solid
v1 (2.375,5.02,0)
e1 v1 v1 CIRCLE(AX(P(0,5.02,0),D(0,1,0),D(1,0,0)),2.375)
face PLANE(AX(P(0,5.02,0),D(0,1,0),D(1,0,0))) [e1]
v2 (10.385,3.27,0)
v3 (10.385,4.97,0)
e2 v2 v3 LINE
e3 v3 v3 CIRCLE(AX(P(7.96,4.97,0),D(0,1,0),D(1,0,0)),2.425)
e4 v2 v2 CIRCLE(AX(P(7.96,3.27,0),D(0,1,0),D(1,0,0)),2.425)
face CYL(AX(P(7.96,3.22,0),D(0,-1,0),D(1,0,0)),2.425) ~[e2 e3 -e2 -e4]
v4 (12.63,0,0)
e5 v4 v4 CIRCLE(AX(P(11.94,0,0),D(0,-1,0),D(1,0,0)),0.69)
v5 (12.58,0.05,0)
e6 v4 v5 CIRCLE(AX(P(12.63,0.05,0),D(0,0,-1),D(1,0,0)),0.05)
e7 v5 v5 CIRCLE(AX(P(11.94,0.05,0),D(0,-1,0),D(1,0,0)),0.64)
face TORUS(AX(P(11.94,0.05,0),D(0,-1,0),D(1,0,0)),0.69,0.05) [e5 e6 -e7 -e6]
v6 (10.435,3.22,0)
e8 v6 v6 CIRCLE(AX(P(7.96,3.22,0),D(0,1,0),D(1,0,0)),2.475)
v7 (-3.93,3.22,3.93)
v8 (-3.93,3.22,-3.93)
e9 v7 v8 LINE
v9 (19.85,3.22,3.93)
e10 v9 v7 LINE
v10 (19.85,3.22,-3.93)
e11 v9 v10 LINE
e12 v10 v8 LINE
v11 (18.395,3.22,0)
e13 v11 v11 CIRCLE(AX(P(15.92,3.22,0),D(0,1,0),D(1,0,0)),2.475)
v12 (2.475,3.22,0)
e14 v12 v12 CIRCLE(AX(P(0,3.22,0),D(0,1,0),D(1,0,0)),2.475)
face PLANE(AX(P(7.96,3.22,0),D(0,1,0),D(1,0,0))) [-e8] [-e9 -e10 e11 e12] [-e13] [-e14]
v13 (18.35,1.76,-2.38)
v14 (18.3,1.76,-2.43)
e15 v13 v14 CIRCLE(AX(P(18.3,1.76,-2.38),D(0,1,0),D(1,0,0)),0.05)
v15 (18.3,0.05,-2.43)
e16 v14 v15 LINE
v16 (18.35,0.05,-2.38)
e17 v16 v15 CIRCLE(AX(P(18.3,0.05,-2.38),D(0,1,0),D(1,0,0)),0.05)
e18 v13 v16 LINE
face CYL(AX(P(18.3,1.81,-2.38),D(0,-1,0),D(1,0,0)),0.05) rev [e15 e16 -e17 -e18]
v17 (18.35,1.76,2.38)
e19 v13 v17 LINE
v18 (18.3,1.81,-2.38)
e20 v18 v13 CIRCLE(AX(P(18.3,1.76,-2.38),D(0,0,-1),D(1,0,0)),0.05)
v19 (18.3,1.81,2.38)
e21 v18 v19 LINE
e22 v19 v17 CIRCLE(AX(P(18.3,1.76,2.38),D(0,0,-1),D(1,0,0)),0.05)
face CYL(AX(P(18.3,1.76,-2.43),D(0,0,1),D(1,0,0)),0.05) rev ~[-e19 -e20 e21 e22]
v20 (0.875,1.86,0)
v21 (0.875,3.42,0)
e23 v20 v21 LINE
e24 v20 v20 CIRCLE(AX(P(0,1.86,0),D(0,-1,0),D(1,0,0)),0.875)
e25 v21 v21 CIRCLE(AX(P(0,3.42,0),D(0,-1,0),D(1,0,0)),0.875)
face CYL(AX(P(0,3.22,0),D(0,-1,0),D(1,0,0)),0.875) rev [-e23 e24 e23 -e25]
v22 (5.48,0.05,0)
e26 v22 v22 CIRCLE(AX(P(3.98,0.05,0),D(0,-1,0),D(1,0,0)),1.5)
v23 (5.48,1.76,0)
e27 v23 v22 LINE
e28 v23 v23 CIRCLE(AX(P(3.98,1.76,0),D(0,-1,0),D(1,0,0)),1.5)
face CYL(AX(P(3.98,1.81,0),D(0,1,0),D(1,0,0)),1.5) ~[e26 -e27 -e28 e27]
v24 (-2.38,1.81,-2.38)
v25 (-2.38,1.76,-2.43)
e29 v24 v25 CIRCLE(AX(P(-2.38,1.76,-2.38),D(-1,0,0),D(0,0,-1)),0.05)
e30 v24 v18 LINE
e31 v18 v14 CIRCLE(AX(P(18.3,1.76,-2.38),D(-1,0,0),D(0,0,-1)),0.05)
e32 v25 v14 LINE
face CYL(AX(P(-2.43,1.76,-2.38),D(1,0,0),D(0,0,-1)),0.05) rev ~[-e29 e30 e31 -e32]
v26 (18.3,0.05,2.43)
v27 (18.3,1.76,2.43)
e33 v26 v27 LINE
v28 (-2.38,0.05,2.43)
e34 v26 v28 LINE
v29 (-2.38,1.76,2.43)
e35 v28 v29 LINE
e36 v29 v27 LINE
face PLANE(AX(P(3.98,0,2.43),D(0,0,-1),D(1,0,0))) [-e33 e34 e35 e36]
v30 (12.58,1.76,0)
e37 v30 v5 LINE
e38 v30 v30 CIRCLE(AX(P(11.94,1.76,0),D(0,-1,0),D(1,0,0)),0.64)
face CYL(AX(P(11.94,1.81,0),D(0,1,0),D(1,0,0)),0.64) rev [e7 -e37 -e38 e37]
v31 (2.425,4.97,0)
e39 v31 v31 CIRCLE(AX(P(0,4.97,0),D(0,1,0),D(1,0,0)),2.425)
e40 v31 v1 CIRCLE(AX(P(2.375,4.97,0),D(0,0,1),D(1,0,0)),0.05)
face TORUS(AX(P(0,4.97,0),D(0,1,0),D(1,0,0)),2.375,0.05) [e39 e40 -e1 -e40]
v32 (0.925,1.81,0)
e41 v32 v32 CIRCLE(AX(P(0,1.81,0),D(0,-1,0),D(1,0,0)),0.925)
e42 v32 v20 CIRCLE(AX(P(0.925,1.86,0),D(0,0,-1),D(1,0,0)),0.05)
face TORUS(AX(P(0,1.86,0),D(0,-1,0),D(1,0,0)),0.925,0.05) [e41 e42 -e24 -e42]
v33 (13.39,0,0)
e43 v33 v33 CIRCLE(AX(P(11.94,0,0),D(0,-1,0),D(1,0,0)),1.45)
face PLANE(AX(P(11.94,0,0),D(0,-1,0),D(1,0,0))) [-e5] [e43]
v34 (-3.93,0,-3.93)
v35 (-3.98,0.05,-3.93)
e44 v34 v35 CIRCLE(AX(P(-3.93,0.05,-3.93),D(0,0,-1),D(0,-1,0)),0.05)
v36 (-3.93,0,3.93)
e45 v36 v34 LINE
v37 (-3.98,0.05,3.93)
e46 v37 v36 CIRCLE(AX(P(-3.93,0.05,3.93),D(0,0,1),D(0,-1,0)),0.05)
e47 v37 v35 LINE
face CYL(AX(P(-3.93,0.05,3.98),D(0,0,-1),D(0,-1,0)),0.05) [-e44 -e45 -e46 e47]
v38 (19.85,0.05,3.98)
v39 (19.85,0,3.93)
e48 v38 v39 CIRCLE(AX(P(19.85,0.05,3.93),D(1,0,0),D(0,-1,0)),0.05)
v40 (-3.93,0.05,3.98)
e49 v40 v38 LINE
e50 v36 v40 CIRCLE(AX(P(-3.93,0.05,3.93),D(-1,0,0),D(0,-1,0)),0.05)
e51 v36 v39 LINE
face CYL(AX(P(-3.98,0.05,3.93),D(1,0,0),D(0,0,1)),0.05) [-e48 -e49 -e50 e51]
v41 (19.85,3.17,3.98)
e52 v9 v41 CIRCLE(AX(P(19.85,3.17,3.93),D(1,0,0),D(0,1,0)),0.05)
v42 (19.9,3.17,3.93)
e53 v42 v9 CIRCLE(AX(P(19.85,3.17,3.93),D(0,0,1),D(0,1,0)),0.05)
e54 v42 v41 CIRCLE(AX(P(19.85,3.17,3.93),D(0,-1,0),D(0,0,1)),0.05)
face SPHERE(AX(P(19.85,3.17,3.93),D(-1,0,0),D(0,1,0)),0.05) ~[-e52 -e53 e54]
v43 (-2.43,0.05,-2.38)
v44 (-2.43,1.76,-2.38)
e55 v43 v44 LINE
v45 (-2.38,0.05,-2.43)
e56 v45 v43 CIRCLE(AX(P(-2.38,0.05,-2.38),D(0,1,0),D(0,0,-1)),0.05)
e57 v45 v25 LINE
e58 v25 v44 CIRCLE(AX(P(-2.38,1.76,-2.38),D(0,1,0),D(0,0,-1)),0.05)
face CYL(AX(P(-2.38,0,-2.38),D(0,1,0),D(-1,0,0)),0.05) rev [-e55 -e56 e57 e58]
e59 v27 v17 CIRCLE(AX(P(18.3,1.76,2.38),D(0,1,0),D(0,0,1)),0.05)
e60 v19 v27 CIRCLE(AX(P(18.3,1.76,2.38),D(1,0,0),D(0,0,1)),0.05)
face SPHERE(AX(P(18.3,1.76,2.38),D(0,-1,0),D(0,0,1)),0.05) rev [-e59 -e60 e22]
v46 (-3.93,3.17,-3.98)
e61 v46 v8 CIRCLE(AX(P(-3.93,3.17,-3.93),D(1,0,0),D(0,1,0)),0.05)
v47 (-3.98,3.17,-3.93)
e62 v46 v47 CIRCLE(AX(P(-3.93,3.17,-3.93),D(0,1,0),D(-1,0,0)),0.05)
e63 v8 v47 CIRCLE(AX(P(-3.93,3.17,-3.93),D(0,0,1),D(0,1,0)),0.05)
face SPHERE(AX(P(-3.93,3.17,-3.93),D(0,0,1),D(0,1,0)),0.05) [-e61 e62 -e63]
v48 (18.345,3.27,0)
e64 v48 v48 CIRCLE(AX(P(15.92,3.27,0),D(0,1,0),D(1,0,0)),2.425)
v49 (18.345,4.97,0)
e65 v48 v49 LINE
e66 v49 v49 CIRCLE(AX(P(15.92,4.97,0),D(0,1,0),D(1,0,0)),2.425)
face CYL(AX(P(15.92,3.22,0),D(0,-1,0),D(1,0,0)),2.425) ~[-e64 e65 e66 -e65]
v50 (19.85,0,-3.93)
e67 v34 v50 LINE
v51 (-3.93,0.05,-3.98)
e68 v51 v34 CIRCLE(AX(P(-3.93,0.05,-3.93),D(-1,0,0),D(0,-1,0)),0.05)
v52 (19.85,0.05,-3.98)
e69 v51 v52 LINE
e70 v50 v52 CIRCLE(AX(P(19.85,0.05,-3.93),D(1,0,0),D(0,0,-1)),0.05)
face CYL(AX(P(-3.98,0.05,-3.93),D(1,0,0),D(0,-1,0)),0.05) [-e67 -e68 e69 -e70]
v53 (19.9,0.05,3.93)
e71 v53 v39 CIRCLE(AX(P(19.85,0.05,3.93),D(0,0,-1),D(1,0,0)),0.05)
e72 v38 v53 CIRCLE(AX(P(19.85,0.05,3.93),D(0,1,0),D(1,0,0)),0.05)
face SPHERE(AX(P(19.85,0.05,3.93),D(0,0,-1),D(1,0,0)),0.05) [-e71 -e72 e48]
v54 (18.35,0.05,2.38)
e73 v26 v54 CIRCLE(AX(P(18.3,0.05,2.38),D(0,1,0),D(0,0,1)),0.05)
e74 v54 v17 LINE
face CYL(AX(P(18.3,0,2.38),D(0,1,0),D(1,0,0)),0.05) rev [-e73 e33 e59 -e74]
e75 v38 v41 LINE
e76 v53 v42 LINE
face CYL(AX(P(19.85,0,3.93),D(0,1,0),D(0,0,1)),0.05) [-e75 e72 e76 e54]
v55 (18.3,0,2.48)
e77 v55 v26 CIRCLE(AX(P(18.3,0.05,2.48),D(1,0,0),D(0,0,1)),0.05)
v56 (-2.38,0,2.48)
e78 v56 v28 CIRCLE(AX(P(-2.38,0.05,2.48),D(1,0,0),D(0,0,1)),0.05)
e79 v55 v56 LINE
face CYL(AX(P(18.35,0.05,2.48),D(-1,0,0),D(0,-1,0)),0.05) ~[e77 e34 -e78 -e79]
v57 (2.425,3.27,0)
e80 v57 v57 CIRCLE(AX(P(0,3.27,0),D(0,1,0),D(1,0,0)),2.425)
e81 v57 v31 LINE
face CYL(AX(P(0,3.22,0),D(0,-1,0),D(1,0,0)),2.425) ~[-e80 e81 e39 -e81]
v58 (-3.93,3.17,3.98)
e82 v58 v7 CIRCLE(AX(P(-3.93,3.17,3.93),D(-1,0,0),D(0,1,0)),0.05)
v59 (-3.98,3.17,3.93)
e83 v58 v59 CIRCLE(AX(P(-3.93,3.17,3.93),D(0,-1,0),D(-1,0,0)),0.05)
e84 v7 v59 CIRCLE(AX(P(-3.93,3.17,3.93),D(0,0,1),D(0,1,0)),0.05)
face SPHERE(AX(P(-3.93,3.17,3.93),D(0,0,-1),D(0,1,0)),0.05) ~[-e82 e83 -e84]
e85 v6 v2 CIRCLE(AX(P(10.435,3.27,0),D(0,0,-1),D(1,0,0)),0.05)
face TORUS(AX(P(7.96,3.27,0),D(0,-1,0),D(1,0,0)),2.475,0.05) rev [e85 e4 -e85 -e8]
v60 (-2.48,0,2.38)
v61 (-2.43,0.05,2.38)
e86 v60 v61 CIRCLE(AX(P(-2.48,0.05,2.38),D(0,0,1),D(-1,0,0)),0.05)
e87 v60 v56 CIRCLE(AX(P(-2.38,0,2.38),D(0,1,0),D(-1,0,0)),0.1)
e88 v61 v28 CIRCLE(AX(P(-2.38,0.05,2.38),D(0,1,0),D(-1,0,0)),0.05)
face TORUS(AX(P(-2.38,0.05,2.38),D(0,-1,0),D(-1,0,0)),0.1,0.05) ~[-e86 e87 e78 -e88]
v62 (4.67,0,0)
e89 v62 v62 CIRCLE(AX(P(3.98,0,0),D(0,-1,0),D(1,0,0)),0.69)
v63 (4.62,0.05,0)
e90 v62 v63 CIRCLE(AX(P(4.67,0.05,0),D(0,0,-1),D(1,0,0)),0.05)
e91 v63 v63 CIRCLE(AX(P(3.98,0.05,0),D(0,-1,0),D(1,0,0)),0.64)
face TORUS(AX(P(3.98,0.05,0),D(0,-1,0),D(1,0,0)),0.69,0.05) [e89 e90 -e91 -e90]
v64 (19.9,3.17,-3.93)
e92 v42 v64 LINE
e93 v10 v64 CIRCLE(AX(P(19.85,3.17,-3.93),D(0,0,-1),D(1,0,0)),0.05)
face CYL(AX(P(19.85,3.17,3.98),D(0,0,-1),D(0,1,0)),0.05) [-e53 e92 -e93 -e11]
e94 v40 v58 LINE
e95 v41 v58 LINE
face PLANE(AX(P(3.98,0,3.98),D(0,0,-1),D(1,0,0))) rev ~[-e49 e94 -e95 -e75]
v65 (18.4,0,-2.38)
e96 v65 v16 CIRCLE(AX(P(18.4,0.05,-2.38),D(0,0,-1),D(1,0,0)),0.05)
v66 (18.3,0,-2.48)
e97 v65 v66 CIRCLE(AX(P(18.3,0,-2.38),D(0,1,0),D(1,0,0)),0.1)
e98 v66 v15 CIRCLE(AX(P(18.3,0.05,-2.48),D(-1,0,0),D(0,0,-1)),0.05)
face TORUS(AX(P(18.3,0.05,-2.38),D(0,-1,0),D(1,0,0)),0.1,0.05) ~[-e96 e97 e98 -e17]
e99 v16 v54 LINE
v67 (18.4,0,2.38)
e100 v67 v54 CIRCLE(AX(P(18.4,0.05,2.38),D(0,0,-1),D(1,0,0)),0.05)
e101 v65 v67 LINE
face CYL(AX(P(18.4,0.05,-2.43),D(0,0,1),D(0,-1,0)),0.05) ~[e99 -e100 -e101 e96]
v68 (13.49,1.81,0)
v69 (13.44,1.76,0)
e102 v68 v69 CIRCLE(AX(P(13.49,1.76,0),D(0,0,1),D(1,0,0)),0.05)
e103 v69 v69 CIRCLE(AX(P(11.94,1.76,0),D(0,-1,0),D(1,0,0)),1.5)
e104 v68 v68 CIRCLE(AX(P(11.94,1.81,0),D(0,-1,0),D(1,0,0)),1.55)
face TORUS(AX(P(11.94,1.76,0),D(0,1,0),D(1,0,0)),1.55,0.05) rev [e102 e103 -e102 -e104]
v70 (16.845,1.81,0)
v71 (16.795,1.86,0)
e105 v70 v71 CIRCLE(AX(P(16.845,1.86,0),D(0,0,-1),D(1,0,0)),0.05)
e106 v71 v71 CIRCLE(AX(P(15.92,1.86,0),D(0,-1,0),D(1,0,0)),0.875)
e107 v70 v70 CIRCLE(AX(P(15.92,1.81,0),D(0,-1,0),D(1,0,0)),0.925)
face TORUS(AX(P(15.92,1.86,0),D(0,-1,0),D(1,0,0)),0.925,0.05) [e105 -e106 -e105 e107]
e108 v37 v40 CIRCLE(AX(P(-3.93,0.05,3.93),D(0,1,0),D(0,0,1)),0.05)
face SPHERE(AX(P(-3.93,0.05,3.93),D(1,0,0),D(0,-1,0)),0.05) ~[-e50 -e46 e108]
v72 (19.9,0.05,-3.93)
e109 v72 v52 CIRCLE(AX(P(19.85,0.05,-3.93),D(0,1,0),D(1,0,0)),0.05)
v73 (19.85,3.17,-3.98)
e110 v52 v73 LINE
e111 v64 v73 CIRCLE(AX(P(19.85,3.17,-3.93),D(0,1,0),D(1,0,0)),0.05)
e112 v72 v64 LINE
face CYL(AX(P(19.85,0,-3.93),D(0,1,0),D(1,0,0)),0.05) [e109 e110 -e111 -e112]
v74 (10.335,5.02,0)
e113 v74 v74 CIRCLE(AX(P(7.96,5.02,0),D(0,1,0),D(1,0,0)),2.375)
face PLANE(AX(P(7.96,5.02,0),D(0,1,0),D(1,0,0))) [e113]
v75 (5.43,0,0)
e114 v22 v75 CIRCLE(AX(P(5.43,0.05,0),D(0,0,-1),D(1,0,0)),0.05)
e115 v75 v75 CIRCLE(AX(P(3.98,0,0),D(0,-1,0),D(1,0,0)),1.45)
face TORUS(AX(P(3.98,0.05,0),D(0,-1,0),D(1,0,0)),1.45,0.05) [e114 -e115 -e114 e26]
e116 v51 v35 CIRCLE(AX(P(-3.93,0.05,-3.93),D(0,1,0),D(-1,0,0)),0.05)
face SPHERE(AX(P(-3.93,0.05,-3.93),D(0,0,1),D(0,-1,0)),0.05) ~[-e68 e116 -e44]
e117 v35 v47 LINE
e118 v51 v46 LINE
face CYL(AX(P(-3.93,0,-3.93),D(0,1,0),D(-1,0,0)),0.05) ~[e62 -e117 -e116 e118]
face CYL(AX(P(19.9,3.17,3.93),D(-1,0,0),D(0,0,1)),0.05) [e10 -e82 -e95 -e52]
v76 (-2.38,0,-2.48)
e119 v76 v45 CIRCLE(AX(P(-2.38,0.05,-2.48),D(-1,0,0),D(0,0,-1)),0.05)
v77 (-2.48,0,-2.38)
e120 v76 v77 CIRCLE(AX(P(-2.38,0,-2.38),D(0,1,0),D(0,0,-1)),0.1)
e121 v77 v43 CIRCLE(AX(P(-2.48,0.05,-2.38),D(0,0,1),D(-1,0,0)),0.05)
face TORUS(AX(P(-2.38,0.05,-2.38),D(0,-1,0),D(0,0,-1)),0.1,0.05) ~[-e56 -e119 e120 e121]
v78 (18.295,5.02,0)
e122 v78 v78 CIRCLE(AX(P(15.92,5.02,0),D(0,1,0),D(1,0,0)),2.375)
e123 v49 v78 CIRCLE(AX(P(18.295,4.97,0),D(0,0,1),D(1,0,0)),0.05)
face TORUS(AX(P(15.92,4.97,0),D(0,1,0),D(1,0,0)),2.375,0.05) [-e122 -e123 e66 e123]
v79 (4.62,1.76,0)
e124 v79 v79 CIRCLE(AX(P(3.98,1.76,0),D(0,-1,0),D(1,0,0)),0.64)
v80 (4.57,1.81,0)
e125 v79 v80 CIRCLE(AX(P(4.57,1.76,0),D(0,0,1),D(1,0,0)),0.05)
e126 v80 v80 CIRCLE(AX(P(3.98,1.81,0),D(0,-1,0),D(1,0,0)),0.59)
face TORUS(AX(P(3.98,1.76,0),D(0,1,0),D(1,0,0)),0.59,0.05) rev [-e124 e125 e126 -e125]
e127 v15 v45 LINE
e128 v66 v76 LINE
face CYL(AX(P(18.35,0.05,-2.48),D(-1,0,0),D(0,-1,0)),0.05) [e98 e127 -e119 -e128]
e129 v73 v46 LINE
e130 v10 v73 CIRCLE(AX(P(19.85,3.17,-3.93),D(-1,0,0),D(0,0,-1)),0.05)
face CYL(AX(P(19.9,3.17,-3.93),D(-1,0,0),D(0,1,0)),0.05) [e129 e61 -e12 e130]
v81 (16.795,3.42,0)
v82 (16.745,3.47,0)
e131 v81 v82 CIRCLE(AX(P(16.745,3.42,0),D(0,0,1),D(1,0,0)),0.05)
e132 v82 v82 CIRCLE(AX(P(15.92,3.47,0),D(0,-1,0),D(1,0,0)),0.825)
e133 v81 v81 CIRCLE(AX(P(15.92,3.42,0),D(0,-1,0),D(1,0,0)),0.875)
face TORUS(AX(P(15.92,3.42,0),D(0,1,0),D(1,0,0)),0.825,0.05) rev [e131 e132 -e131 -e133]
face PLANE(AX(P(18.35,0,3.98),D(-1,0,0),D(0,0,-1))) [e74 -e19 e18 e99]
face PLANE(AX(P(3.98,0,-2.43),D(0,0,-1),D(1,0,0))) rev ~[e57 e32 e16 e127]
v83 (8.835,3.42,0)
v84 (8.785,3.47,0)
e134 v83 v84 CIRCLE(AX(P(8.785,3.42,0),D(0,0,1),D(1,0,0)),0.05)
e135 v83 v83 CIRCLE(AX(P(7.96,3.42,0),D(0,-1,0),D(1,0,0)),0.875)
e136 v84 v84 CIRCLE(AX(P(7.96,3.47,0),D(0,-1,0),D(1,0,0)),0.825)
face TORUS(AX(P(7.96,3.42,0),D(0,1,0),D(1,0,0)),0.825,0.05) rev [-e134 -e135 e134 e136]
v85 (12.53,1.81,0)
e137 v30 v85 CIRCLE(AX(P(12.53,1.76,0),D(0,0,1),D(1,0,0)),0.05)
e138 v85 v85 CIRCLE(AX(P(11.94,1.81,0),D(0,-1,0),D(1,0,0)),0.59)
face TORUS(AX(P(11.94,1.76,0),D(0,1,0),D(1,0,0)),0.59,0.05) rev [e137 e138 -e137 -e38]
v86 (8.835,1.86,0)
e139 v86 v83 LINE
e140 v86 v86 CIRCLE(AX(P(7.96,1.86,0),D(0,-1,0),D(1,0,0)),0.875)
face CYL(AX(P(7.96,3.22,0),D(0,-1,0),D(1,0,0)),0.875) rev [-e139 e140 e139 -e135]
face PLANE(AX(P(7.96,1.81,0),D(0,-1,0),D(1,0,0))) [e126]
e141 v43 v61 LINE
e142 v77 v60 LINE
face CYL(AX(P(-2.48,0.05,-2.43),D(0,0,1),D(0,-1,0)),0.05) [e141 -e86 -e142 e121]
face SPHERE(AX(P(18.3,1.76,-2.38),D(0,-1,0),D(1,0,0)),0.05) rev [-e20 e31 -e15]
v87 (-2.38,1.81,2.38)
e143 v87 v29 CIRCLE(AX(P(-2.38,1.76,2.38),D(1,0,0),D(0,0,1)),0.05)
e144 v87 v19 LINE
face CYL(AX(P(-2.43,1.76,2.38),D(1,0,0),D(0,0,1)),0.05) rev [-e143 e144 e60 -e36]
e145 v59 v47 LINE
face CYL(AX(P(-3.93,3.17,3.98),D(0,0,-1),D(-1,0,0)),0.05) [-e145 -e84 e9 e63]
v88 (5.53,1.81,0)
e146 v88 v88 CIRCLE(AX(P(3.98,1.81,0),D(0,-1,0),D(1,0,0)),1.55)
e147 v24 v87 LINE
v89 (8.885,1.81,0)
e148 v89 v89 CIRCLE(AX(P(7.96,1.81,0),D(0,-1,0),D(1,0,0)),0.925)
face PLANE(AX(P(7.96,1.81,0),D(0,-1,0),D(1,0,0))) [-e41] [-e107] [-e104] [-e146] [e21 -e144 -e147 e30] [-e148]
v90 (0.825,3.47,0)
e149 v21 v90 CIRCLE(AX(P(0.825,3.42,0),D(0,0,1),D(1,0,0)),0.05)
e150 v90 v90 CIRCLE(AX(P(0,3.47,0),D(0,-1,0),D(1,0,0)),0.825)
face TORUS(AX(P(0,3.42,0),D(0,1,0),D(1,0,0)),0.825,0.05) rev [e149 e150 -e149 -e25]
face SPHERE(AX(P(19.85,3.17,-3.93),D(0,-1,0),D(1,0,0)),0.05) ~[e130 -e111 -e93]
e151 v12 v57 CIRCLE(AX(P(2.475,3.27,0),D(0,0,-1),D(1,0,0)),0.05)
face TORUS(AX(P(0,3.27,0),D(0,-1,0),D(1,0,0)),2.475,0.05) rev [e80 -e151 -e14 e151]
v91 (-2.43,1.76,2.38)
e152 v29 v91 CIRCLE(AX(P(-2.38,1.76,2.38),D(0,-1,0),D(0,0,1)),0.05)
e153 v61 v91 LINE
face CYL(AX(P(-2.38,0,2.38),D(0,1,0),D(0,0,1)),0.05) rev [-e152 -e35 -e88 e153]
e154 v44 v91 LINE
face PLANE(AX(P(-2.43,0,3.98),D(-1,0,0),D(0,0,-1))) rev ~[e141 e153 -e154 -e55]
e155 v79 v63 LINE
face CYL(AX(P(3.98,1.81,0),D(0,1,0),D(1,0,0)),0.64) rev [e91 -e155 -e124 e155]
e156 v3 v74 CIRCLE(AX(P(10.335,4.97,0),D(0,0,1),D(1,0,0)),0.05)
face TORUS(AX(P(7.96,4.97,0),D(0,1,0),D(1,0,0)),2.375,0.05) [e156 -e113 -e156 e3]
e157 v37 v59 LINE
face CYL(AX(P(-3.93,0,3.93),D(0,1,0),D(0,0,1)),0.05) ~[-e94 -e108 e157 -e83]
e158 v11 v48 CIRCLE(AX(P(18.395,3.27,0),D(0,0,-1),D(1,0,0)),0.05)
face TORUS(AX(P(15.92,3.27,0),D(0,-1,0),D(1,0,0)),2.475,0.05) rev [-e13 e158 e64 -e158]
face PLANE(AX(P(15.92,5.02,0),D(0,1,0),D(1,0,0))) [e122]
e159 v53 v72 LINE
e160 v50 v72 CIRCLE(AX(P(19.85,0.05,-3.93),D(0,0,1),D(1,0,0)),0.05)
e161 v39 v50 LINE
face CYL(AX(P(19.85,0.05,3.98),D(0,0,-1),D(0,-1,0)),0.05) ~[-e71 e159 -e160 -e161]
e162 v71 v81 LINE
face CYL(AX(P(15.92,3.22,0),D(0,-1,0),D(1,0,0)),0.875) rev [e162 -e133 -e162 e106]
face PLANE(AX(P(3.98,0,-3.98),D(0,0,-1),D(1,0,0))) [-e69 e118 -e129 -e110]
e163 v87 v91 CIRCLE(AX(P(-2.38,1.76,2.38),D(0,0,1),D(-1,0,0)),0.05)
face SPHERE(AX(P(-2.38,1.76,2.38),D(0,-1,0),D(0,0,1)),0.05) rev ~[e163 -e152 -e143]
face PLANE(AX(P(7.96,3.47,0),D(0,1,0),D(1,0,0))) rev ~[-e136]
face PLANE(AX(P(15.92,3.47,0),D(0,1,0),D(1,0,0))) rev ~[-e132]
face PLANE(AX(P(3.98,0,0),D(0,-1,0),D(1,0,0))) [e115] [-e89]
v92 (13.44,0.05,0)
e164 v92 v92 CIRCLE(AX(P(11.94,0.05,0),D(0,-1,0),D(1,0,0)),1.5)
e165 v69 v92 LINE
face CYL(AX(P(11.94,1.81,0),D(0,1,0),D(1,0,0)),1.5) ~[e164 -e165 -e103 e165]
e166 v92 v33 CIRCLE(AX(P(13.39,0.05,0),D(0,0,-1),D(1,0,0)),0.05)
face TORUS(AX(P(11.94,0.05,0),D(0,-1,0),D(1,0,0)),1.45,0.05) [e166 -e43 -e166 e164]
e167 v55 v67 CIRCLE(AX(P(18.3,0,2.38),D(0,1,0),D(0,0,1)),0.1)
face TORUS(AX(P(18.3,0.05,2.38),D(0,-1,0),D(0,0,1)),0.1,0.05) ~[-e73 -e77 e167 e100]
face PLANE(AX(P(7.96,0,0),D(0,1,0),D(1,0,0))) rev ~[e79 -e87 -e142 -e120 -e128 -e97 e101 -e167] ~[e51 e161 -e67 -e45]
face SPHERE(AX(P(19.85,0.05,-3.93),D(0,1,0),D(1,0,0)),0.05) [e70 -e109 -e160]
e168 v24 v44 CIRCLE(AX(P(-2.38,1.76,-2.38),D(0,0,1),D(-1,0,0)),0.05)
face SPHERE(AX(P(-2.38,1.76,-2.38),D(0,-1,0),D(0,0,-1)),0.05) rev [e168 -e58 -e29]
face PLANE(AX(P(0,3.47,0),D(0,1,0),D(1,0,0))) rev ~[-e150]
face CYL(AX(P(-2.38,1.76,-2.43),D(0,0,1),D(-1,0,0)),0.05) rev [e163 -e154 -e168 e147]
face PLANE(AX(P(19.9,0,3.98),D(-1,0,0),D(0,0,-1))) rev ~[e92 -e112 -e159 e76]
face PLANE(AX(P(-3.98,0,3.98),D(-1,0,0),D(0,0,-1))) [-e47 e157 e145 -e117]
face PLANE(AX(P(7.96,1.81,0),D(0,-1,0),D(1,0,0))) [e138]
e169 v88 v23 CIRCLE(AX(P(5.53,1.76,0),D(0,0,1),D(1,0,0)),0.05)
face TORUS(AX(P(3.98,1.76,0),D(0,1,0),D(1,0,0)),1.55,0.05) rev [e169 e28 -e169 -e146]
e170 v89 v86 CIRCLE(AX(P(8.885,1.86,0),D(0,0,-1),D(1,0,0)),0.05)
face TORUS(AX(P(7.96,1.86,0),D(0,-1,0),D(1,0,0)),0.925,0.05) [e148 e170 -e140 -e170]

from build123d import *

# Parameters (mm, degrees)
SKETCH1_W       = 7.96
SKETCH1_H       = 7.96
EXTRUDE1_DEPTH  = 3.22
SKETCH2_R       = 2.425
EXTRUDE2_DEPTH  = 1.8
LPATTERN1_COUNT = 3
LPATTERN1_PITCH = 7.96
SHELL1_T        = -1.55
SKETCH3_W       = 20.78
SKETCH3_H       = 4.86
EXTRUDE3_DEPTH  = 0.14
SKETCH4_R       = 1.5
SKETCH4_R_2     = 0.64
EXTRUDE4_DEPTH  = 1.81
FILLET1_R       = 0.05


with BuildPart() as part:
    # Sketch1 → Extrude1 (new body)
    with BuildSketch(Plane(origin=(0, 0, 0), x_dir=(1, 0, 0), z_dir=(0, 1, 0))):
        Rectangle(SKETCH1_W, SKETCH1_H)
    extrude1 = extrude(amount=EXTRUDE1_DEPTH)

    # Sketch2 → Extrude2 (add)
    with BuildSketch(Plane(origin=(0, 3.22, 0), x_dir=(1, 0, 0), z_dir=(0, 1, 0))):
        Circle(SKETCH2_R)
    extrude2 = extrude(amount=EXTRUDE2_DEPTH)

    # LPattern1: Extrude1, Extrude2 ×3
    with Locations(*[(i * LPATTERN1_PITCH, 0, 0) for i in range(1, LPATTERN1_COUNT)]):
        add(extrude1)
        add(extrude2)

    # Shell1
    shell1_openings = [part.faces().sort_by_distance(p)[0] for p in [
        (7.96, 0, 0),
    ]]
    offset(amount=SHELL1_T, openings=shell1_openings, kind=Kind.INTERSECTION)

    # Sketch3 → Extrude3 (cut)
    with BuildSketch(Plane.XZ.offset(-1.67)):
        with Locations((7.96, 0)):
            Rectangle(SKETCH3_W, SKETCH3_H)
    extrude(amount=-EXTRUDE3_DEPTH, mode=Mode.SUBTRACT)

    # Sketch4 → Extrude4 (add)
    with BuildSketch(Plane.XZ.offset(-1.81)):
        with Locations((3.98, 0)):
            Circle(SKETCH4_R)
        with Locations((3.98, 0)):
            Circle(SKETCH4_R_2, mode=Mode.SUBTRACT)
        with Locations((11.94, 0)):
            Circle(SKETCH4_R)
        with Locations((11.94, 0)):
            Circle(SKETCH4_R_2, mode=Mode.SUBTRACT)
    extrude(amount=EXTRUDE4_DEPTH)

    # Fillet1
    fillet1_edges = [part.edges().sort_by_distance(p)[0] for p in [
        (-3.98, 3.22, 0),
        (7.96, 3.22, 3.98),
        (-2.425, 3.22, 0),
        (-2.425, 5.02, 0),
        (19.9, 1.61, -3.98),
        (19.9, 3.22, 0),
        (19.9, 0, 0),
        (19.9, 1.61, 3.98),
        (5.535, 3.22, 0),
        (5.535, 5.02, 0),
        (13.495, 3.22, 0),
        (13.495, 5.02, 0),
        (7.96, 0, -2.43),
        (18.35, 0.905, -2.43),
        (-2.43, 0, 0),
        (-2.43, 0.905, -2.43),
        (7.96, 0, 2.43),
        (-2.43, 0.905, 2.43),
        (-0.875, 3.47, 0),
        (18.35, 0, 0),
        (18.35, 0.905, 2.43),
        (7.085, 3.47, 0),
        (15.045, 3.47, 0),
        (7.96, 0, 3.98),
        (-3.98, 0, 0),
        (7.96, 0, -3.98),
        (-0.875, 1.81, 0),
        (7.085, 1.81, 0),
        (15.045, 1.81, 0),
        (7.96, 1.81, 2.43),
        (18.35, 1.81, 0),
        (7.96, 1.81, -2.43),
        (-2.43, 1.81, 0),
        (7.96, 3.22, -3.98),
        (2.48, 1.81, 0),
        (3.34, 1.81, 0),
        (2.48, 0, 0),
        (3.34, 0, 0),
        (-3.98, 1.61, 3.98),
        (-3.98, 1.61, -3.98),
        (10.44, 1.81, 0),
        (11.3, 1.81, 0),
        (10.44, 0, 0),
        (11.3, 0, 0),
    ]]
    fillet(fillet1_edges, radius=FILLET1_R)


solid = part.part
